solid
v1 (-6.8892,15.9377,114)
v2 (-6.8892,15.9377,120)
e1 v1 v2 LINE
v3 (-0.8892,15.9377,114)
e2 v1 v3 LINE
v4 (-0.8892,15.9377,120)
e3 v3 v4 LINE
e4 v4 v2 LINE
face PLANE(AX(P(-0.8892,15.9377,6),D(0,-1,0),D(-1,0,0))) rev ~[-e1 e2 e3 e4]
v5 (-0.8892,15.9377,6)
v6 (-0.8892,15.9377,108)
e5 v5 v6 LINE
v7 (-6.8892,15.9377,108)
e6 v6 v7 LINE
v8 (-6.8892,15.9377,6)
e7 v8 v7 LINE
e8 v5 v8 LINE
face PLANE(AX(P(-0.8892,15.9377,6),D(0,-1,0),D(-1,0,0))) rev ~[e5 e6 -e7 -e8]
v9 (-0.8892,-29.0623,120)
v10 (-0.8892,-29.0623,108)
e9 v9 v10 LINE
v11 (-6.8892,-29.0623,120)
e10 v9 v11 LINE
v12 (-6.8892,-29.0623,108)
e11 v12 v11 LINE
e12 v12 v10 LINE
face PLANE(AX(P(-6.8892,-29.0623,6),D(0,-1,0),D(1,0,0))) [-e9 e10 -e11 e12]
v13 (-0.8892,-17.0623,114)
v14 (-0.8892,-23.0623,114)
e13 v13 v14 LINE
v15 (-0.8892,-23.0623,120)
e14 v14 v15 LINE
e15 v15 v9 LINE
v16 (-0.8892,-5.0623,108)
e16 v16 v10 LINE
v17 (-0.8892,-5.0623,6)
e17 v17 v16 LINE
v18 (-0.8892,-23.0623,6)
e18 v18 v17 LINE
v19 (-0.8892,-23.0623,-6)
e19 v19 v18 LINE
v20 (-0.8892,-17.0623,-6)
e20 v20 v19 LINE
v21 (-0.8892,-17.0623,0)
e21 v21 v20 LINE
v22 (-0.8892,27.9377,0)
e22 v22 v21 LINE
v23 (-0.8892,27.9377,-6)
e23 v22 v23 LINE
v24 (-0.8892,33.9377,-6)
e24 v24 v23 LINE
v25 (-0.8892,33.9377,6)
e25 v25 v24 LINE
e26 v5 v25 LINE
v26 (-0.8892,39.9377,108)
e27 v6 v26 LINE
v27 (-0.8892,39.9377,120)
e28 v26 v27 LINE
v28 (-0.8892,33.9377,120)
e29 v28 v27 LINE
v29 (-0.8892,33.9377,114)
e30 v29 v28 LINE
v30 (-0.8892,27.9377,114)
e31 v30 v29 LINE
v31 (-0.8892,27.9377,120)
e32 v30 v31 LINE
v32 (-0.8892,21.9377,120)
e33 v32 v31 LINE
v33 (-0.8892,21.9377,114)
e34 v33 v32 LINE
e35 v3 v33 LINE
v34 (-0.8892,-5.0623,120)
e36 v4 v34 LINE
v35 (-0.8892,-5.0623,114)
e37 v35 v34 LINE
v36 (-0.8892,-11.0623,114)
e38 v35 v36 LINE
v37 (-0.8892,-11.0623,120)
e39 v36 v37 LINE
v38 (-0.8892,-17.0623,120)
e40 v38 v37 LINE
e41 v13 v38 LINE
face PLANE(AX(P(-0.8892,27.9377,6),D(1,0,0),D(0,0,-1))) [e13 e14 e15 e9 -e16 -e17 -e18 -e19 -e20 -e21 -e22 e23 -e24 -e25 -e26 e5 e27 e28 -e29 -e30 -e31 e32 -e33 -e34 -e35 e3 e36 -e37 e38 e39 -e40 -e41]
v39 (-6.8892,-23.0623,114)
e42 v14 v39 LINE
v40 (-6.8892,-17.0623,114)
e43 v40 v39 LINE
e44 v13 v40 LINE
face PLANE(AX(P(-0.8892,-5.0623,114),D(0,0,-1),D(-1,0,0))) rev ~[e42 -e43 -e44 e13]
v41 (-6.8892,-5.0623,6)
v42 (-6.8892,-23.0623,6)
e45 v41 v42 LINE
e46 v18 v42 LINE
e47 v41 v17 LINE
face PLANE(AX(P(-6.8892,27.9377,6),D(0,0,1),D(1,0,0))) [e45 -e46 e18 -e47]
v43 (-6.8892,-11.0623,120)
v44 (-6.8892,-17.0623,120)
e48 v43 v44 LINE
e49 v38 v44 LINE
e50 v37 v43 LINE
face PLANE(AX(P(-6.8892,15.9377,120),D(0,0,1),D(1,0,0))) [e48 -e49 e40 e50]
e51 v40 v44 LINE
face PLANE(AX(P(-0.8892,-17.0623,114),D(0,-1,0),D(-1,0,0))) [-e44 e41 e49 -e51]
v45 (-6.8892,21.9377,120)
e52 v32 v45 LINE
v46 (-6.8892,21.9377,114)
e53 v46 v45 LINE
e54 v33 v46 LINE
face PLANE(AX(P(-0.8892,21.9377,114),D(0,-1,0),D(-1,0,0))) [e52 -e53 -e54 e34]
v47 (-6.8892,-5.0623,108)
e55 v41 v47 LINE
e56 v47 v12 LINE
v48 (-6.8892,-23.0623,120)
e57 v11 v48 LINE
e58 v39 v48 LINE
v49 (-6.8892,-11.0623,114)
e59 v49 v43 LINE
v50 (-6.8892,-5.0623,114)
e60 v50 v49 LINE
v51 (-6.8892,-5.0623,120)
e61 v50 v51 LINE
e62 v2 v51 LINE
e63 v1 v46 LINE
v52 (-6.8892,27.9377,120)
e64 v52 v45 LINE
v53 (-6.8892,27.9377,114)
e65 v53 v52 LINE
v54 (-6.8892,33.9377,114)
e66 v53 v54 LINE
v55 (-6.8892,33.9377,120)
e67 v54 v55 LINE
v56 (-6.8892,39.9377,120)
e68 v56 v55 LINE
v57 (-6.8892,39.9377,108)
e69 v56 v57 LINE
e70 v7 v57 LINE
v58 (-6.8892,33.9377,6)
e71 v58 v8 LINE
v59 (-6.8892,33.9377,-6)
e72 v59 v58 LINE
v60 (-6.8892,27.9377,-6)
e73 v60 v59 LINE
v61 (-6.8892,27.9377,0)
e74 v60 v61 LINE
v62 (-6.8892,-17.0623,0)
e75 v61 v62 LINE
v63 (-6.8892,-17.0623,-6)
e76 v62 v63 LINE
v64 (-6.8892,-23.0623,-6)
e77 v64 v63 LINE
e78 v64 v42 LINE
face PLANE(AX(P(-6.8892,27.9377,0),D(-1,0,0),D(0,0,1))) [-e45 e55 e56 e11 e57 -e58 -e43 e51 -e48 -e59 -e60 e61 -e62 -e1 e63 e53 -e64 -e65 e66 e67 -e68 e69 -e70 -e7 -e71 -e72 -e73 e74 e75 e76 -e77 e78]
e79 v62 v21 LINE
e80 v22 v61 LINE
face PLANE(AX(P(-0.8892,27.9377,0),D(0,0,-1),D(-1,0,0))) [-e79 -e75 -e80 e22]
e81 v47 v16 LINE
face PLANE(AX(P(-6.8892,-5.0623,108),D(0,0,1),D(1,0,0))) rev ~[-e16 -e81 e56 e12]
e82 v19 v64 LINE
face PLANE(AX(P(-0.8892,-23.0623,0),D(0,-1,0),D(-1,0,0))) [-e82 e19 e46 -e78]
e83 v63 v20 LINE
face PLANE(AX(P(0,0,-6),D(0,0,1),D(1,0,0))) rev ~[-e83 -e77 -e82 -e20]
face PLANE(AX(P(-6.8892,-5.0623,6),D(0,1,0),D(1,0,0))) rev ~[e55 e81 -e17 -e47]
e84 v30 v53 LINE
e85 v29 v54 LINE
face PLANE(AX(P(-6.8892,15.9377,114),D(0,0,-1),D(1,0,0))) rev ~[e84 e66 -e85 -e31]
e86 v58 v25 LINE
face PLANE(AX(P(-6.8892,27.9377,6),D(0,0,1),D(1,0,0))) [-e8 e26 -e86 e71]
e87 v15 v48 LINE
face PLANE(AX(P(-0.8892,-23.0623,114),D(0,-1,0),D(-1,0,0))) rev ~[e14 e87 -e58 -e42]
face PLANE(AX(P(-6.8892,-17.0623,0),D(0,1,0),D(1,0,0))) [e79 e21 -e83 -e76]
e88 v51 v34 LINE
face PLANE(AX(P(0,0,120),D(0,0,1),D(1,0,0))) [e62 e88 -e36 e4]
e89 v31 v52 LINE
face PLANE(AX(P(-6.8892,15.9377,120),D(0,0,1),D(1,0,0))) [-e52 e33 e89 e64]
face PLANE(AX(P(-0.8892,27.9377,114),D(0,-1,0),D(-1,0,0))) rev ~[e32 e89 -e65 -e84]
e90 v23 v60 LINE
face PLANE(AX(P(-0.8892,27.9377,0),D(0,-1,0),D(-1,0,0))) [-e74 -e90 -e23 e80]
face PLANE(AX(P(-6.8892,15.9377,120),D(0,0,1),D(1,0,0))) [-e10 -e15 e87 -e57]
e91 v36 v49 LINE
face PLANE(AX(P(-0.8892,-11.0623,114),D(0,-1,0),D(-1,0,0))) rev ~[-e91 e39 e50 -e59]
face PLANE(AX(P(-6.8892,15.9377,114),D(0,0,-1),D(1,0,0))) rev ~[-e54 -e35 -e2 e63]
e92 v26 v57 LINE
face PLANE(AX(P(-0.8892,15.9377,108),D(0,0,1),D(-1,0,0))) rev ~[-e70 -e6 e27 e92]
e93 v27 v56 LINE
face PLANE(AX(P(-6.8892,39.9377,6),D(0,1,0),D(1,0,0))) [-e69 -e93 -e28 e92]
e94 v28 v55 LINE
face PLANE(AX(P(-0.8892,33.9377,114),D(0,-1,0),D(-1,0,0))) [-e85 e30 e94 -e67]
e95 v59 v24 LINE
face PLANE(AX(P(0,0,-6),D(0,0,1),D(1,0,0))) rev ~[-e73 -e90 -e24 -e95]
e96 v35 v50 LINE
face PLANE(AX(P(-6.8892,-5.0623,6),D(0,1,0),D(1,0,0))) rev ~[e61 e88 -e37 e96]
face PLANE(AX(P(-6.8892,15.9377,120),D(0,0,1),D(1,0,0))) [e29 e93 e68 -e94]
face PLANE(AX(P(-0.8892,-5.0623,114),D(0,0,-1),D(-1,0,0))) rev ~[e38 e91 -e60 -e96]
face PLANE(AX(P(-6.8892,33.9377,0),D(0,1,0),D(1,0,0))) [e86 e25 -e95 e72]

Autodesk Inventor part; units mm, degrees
ref_plane "YZ Plane" through (0, 0, 0) normal (1, 0, 0) x (0, 1, 0)
ref_plane "XZ Plane" through (0, 0, 0) normal (0, 1, 0) x (-1, 0, 0)
ref_plane "XY Plane" through (0, 0, 0) normal (0, 0, 1) x (1, 0, 0)
sketch "Sketch1" plane through (0, 0, 0) normal (0, 0, 1) x (1, 0, 0)
  line L0 (316.5108, 23.0377) -> (310.3108, 23.0377) projected
  line L1 (316.5108, 39.9377) -> (316.5108, 23.0377) projected
  line L2 (316.5108, 39.9377) -> (24.9108, 39.9377) projected
  line L3 (24.9108, 39.9377) -> (24.9108, 45.9377) projected
  line L4 (24.9108, 45.9377) -> (316.5108, 45.9377) projected
  line L5 (316.5108, 62.8377) -> (316.5108, 45.9377) projected
  line L6 (301.1069, 62.8377) -> (316.5108, 62.8377) projected
  line L7 (295.9108, 65.8377) -> (301.1069, 62.8377) projected
  line L8 (295.9108, 62.8377) -> (295.9108, 65.8377) projected
  arc A0 (293.9108, 62.8377) -> (295.9108, 62.8377) centre (294.9108, 62.8377) ccw projected
  line L9 (293.9108, 65.8377) -> (293.9108, 62.8377) projected
  line L10 (288.7146, 62.8377) -> (293.9108, 65.8377) projected
  line L11 (272.3069, 62.8377) -> (288.7146, 62.8377) projected
  line L12 (267.1108, 65.8377) -> (272.3069, 62.8377) projected
  line L13 (267.1108, 62.8377) -> (267.1108, 65.8377) projected
  arc A1 (265.1108, 62.8377) -> (267.1108, 62.8377) centre (266.1108, 62.8377) ccw projected
  line L14 (265.1108, 65.8377) -> (265.1108, 62.8377) projected
  line L15 (259.9146, 62.8377) -> (265.1108, 65.8377) projected
  line L16 (243.5069, 62.8377) -> (259.9146, 62.8377) projected
  line L17 (238.3108, 65.8377) -> (243.5069, 62.8377) projected
  line L18 (238.3108, 62.8377) -> (238.3108, 65.8377) projected
  arc A2 (236.3108, 62.8377) -> (238.3108, 62.8377) centre (237.3108, 62.8377) ccw projected
  line L19 (236.3108, 65.8377) -> (236.3108, 62.8377) projected
  line L20 (231.1146, 62.8377) -> (236.3108, 65.8377) projected
  line L21 (214.7069, 62.8377) -> (231.1146, 62.8377) projected
  line L22 (209.5108, 65.8377) -> (214.7069, 62.8377) projected
  line L23 (209.5108, 62.8377) -> (209.5108, 65.8377) projected
  arc A3 (207.5108, 62.8377) -> (209.5108, 62.8377) centre (208.5108, 62.8377) ccw projected
  line L24 (207.5108, 65.8377) -> (207.5108, 62.8377) projected
  line L25 (202.3146, 62.8377) -> (207.5108, 65.8377) projected
  line L26 (185.9069, 62.8377) -> (202.3146, 62.8377) projected
  line L27 (180.7108, 65.8377) -> (185.9069, 62.8377) projected
  line L28 (180.7108, 62.8377) -> (180.7108, 65.8377) projected
  arc A4 (178.7108, 62.8377) -> (180.7108, 62.8377) centre (179.7108, 62.8377) ccw projected
  line L29 (178.7108, 65.8377) -> (178.7108, 62.8377) projected
  line L30 (173.5146, 62.8377) -> (178.7108, 65.8377) projected
  line L31 (157.1069, 62.8377) -> (173.5146, 62.8377) projected
  line L32 (151.9108, 65.8377) -> (157.1069, 62.8377) projected
  line L33 (151.9108, 62.8377) -> (151.9108, 65.8377) projected
  arc A5 (149.9108, 62.8377) -> (151.9108, 62.8377) centre (150.9108, 62.8377) ccw projected
  line L34 (149.9108, 65.8377) -> (149.9108, 62.8377) projected
  line L35 (144.7146, 62.8377) -> (149.9108, 65.8377) projected
  line L36 (128.3069, 62.8377) -> (144.7146, 62.8377) projected
  line L37 (123.1108, 65.8377) -> (128.3069, 62.8377) projected
  line L38 (123.1108, 62.8377) -> (123.1108, 65.8377) projected
  arc A6 (121.1108, 62.8377) -> (123.1108, 62.8377) centre (122.1108, 62.8377) ccw projected
  line L39 (121.1108, 65.8377) -> (121.1108, 62.8377) projected
  line L40 (115.9146, 62.8377) -> (121.1108, 65.8377) projected
  line L41 (99.5069, 62.8377) -> (115.9146, 62.8377) projected
  line L42 (94.3108, 65.8377) -> (99.5069, 62.8377) projected
  line L43 (94.3108, 62.8377) -> (94.3108, 65.8377) projected
  arc A7 (92.3108, 62.8377) -> (94.3108, 62.8377) centre (93.3108, 62.8377) ccw projected
  line L44 (92.3108, 65.8377) -> (92.3108, 62.8377) projected
  line L45 (87.1146, 62.8377) -> (92.3108, 65.8377) projected
  line L46 (70.7069, 62.8377) -> (87.1146, 62.8377) projected
  line L47 (65.5108, 65.8377) -> (70.7069, 62.8377) projected
  line L48 (65.5108, 62.8377) -> (65.5108, 65.8377) projected
  arc A8 (63.5108, 62.8377) -> (65.5108, 62.8377) centre (64.5108, 62.8377) ccw projected
  line L49 (63.5108, 65.8377) -> (63.5108, 62.8377) projected
  line L50 (58.3146, 62.8377) -> (63.5108, 65.8377) projected
  line L51 (41.9069, 62.8377) -> (58.3146, 62.8377) projected
  line L52 (36.7108, 65.8377) -> (41.9069, 62.8377) projected
  line L53 (36.7108, 62.8377) -> (36.7108, 65.8377) projected
  arc A9 (34.7108, 62.8377) -> (36.7108, 62.8377) centre (35.7108, 62.8377) ccw projected
  line L54 (34.7108, 65.8377) -> (34.7108, 62.8377) projected
  line L55 (29.5146, 62.8377) -> (34.7108, 65.8377) projected
  line L56 (13.1069, 62.8377) -> (29.5146, 62.8377) projected
  line L57 (7.9108, 65.8377) -> (13.1069, 62.8377) projected
  line L58 (7.9108, 62.8377) -> (7.9108, 65.8377) projected
  arc A10 (5.9108, 62.8377) -> (7.9108, 62.8377) centre (6.9108, 62.8377) ccw projected
  line L59 (5.9108, 65.8377) -> (5.9108, 62.8377) projected
  line L60 (0.7146, 62.8377) -> (5.9108, 65.8377) projected
  line L61 (-15.6931, 62.8377) -> (0.7146, 62.8377) projected
  line L62 (-20.8892, 65.8377) -> (-15.6931, 62.8377) projected
  line L63 (-20.8892, 62.8377) -> (-20.8892, 65.8377) projected
  arc A11 (-22.8892, 62.8377) -> (-20.8892, 62.8377) centre (-21.8892, 62.8377) ccw projected
  line L64 (-22.8892, 65.8377) -> (-22.8892, 62.8377) projected
  line L65 (-28.0854, 62.8377) -> (-22.8892, 65.8377) projected
  line L66 (-44.4931, 62.8377) -> (-28.0854, 62.8377) projected
  line L67 (-49.6892, 65.8377) -> (-44.4931, 62.8377) projected
  line L68 (-49.6892, 62.8377) -> (-49.6892, 65.8377) projected
  arc A12 (-51.6892, 62.8377) -> (-49.6892, 62.8377) centre (-50.6892, 62.8377) ccw projected
  line L69 (-51.6892, 65.8377) -> (-51.6892, 62.8377) projected
  line L70 (-56.8854, 62.8377) -> (-51.6892, 65.8377) projected
  line L71 (-73.2931, 62.8377) -> (-56.8854, 62.8377) projected
  line L72 (-78.4892, 65.8377) -> (-73.2931, 62.8377) projected
  line L73 (-78.4892, 62.8377) -> (-78.4892, 65.8377) projected
  arc A13 (-80.4892, 62.8377) -> (-78.4892, 62.8377) centre (-79.4892, 62.8377) ccw projected
  line L74 (-80.4892, 65.8377) -> (-80.4892, 62.8377) projected
  line L75 (-85.6854, 62.8377) -> (-80.4892, 65.8377) projected
  line L76 (-102.0931, 62.8377) -> (-85.6854, 62.8377) projected
  line L77 (-107.2892, 65.8377) -> (-102.0931, 62.8377) projected
  line L78 (-107.2892, 62.8377) -> (-107.2892, 65.8377) projected
  arc A14 (-109.2892, 62.8377) -> (-107.2892, 62.8377) centre (-108.2892, 62.8377) ccw projected
  line L79 (-109.2892, 65.8377) -> (-109.2892, 62.8377) projected
  line L80 (-114.4854, 62.8377) -> (-109.2892, 65.8377) projected
  line L81 (-130.8931, 62.8377) -> (-114.4854, 62.8377) projected
  line L82 (-136.0892, 65.8377) -> (-130.8931, 62.8377) projected
  line L83 (-136.0892, 62.8377) -> (-136.0892, 65.8377) projected
  arc A15 (-138.0892, 62.8377) -> (-136.0892, 62.8377) centre (-137.0892, 62.8377) ccw projected
  line L84 (-138.0892, 65.8377) -> (-138.0892, 62.8377) projected
  line L85 (-143.2854, 62.8377) -> (-138.0892, 65.8377) projected
  line L86 (-159.6931, 62.8377) -> (-143.2854, 62.8377) projected
  line L87 (-164.8892, 65.8377) -> (-159.6931, 62.8377) projected
  line L88 (-164.8892, 62.8377) -> (-164.8892, 65.8377) projected
  arc A16 (-166.8892, 62.8377) -> (-164.8892, 62.8377) centre (-165.8892, 62.8377) ccw projected
  line L89 (-166.8892, 65.8377) -> (-166.8892, 62.8377) projected
  line L90 (-172.0854, 62.8377) -> (-166.8892, 65.8377) projected
  line L91 (-188.4931, 62.8377) -> (-172.0854, 62.8377) projected
  line L92 (-193.6892, 65.8377) -> (-188.4931, 62.8377) projected
  line L93 (-193.6892, 62.8377) -> (-193.6892, 65.8377) projected
  arc A17 (-195.6892, 62.8377) -> (-193.6892, 62.8377) centre (-194.6892, 62.8377) ccw projected
  line L94 (-195.6892, 65.8377) -> (-195.6892, 62.8377) projected
  line L95 (-200.8854, 62.8377) -> (-195.6892, 65.8377) projected
  line L96 (-217.2931, 62.8377) -> (-200.8854, 62.8377) projected
  line L97 (-222.4892, 65.8377) -> (-217.2931, 62.8377) projected
  line L98 (-222.4892, 62.8377) -> (-222.4892, 65.8377) projected
  arc A18 (-224.4892, 62.8377) -> (-222.4892, 62.8377) centre (-223.4892, 62.8377) ccw projected
  line L99 (-224.4892, 65.8377) -> (-224.4892, 62.8377) projected
  line L100 (-229.6854, 62.8377) -> (-224.4892, 65.8377) projected
  line L101 (-246.0931, 62.8377) -> (-229.6854, 62.8377) projected
  line L102 (-251.2892, 65.8377) -> (-246.0931, 62.8377) projected
  line L103 (-251.2892, 62.8377) -> (-251.2892, 65.8377) projected
  arc A19 (-253.2892, 62.8377) -> (-251.2892, 62.8377) centre (-252.2892, 62.8377) ccw projected
  line L104 (-253.2892, 65.8377) -> (-253.2892, 62.8377) projected
  line L105 (-258.4854, 62.8377) -> (-253.2892, 65.8377) projected
  line L106 (-258.4854, 62.8377) -> (-266.6892, 62.8377) projected
  line L107 (-266.6892, 23.0377) -> (-266.6892, 62.8377) projected
  line L108 (-244.0854, 23.0377) -> (-266.6892, 23.0377) projected
  line L109 (-238.8892, 20.0377) -> (-244.0854, 23.0377) projected
  line L110 (-238.8892, 23.0377) -> (-238.8892, 20.0377) projected
  arc A20 (-236.8892, 23.0377) -> (-238.8892, 23.0377) centre (-237.8892, 23.0377) ccw projected
  line L111 (-236.8892, 20.0377) -> (-236.8892, 23.0377) projected
  line L112 (-231.6931, 23.0377) -> (-236.8892, 20.0377) projected
  line L113 (-215.2854, 23.0377) -> (-231.6931, 23.0377) projected
  line L114 (-210.0892, 20.0377) -> (-215.2854, 23.0377) projected
  line L115 (-210.0892, 23.0377) -> (-210.0892, 20.0377) projected
  arc A21 (-208.0892, 23.0377) -> (-210.0892, 23.0377) centre (-209.0892, 23.0377) ccw projected
  line L116 (-208.0892, 20.0377) -> (-208.0892, 23.0377) projected
  line L117 (-202.8931, 23.0377) -> (-208.0892, 20.0377) projected
  line L118 (-186.4854, 23.0377) -> (-202.8931, 23.0377) projected
  line L119 (-181.2892, 20.0377) -> (-186.4854, 23.0377) projected
  line L120 (-181.2892, 23.0377) -> (-181.2892, 20.0377) projected
  arc A22 (-179.2892, 23.0377) -> (-181.2892, 23.0377) centre (-180.2892, 23.0377) ccw projected
  line L121 (-179.2892, 20.0377) -> (-179.2892, 23.0377) projected
  line L122 (-174.0931, 23.0377) -> (-179.2892, 20.0377) projected
  line L123 (-157.6854, 23.0377) -> (-174.0931, 23.0377) projected
  line L124 (-152.4892, 20.0377) -> (-157.6854, 23.0377) projected
  line L125 (-152.4892, 23.0377) -> (-152.4892, 20.0377) projected
  arc A23 (-150.4892, 23.0377) -> (-152.4892, 23.0377) centre (-151.4892, 23.0377) ccw projected
  line L126 (-150.4892, 20.0377) -> (-150.4892, 23.0377) projected
  line L127 (-145.2931, 23.0377) -> (-150.4892, 20.0377) projected
  line L128 (-128.8854, 23.0377) -> (-145.2931, 23.0377) projected
  line L129 (-123.6892, 20.0377) -> (-128.8854, 23.0377) projected
  line L130 (-123.6892, 23.0377) -> (-123.6892, 20.0377) projected
  arc A24 (-121.6892, 23.0377) -> (-123.6892, 23.0377) centre (-122.6892, 23.0377) ccw projected
  line L131 (-121.6892, 20.0377) -> (-121.6892, 23.0377) projected
  line L132 (-116.4931, 23.0377) -> (-121.6892, 20.0377) projected
  line L133 (-100.0854, 23.0377) -> (-116.4931, 23.0377) projected
  line L134 (-94.8892, 20.0377) -> (-100.0854, 23.0377) projected
  line L135 (-94.8892, 23.0377) -> (-94.8892, 20.0377) projected
  arc A25 (-92.8892, 23.0377) -> (-94.8892, 23.0377) centre (-93.8892, 23.0377) ccw projected
  line L136 (-92.8892, 20.0377) -> (-92.8892, 23.0377) projected
  line L137 (-87.6931, 23.0377) -> (-92.8892, 20.0377) projected
  line L138 (-71.2854, 23.0377) -> (-87.6931, 23.0377) projected
  line L139 (-66.0892, 20.0377) -> (-71.2854, 23.0377) projected
  line L140 (-66.0892, 23.0377) -> (-66.0892, 20.0377) projected
  arc A26 (-64.0892, 23.0377) -> (-66.0892, 23.0377) centre (-65.0892, 23.0377) ccw projected
  line L141 (-64.0892, 20.0377) -> (-64.0892, 23.0377) projected
  line L142 (-58.8931, 23.0377) -> (-64.0892, 20.0377) projected
  line L143 (-42.4854, 23.0377) -> (-58.8931, 23.0377) projected
  line L144 (-37.2892, 20.0377) -> (-42.4854, 23.0377) projected
  line L145 (-37.2892, 23.0377) -> (-37.2892, 20.0377) projected
  arc A27 (-35.2892, 23.0377) -> (-37.2892, 23.0377) centre (-36.2892, 23.0377) ccw projected
  line L146 (-35.2892, 20.0377) -> (-35.2892, 23.0377) projected
  line L147 (-30.0931, 23.0377) -> (-35.2892, 20.0377) projected
  line L148 (-13.6854, 23.0377) -> (-30.0931, 23.0377) projected
  line L149 (-8.4892, 20.0377) -> (-13.6854, 23.0377) projected
  line L150 (-8.4892, 23.0377) -> (-8.4892, 20.0377) projected
  arc A28 (-6.4892, 23.0377) -> (-8.4892, 23.0377) centre (-7.4892, 23.0377) ccw projected
  line L151 (-6.4892, 20.0377) -> (-6.4892, 23.0377) projected
  line L152 (-1.2931, 23.0377) -> (-6.4892, 20.0377) projected
  line L153 (15.1146, 23.0377) -> (-1.2931, 23.0377) projected
  line L154 (20.3108, 20.0377) -> (15.1146, 23.0377) projected
  line L155 (20.3108, 23.0377) -> (20.3108, 20.0377) projected
  arc A29 (22.3108, 23.0377) -> (20.3108, 23.0377) centre (21.3108, 23.0377) ccw projected
  line L156 (22.3108, 20.0377) -> (22.3108, 23.0377) projected
  line L157 (27.5069, 23.0377) -> (22.3108, 20.0377) projected
  line L158 (43.9146, 23.0377) -> (27.5069, 23.0377) projected
  line L159 (49.1108, 20.0377) -> (43.9146, 23.0377) projected
  line L160 (49.1108, 23.0377) -> (49.1108, 20.0377) projected
  arc A30 (51.1108, 23.0377) -> (49.1108, 23.0377) centre (50.1108, 23.0377) ccw projected
  line L161 (51.1108, 20.0377) -> (51.1108, 23.0377) projected
  line L162 (56.3069, 23.0377) -> (51.1108, 20.0377) projected
  line L163 (72.7146, 23.0377) -> (56.3069, 23.0377) projected
  line L164 (77.9108, 20.0377) -> (72.7146, 23.0377) projected
  line L165 (77.9108, 23.0377) -> (77.9108, 20.0377) projected
  arc A31 (79.9108, 23.0377) -> (77.9108, 23.0377) centre (78.9108, 23.0377) ccw projected
  line L166 (79.9108, 20.0377) -> (79.9108, 23.0377) projected
  line L167 (85.1069, 23.0377) -> (79.9108, 20.0377) projected
  line L168 (101.5146, 23.0377) -> (85.1069, 23.0377) projected
  line L169 (106.7108, 20.0377) -> (101.5146, 23.0377) projected
  line L170 (106.7108, 23.0377) -> (106.7108, 20.0377) projected
  arc A32 (108.7108, 23.0377) -> (106.7108, 23.0377) centre (107.7108, 23.0377) ccw projected
  line L171 (108.7108, 20.0377) -> (108.7108, 23.0377) projected
  line L172 (113.9069, 23.0377) -> (108.7108, 20.0377) projected
  line L173 (130.3146, 23.0377) -> (113.9069, 23.0377) projected
  line L174 (135.5108, 20.0377) -> (130.3146, 23.0377) projected
  line L175 (135.5108, 23.0377) -> (135.5108, 20.0377) projected
  arc A33 (137.5108, 23.0377) -> (135.5108, 23.0377) centre (136.5108, 23.0377) ccw projected
  line L176 (137.5108, 20.0377) -> (137.5108, 23.0377) projected
  line L177 (142.7069, 23.0377) -> (137.5108, 20.0377) projected
  line L178 (159.1146, 23.0377) -> (142.7069, 23.0377) projected
  line L179 (164.3108, 20.0377) -> (159.1146, 23.0377) projected
  line L180 (164.3108, 23.0377) -> (164.3108, 20.0377) projected
  arc A34 (166.3108, 23.0377) -> (164.3108, 23.0377) centre (165.3108, 23.0377) ccw projected
  line L181 (166.3108, 20.0377) -> (166.3108, 23.0377) projected
  line L182 (171.5069, 23.0377) -> (166.3108, 20.0377) projected
  line L183 (187.9146, 23.0377) -> (171.5069, 23.0377) projected
  line L184 (193.1108, 20.0377) -> (187.9146, 23.0377) projected
  line L185 (193.1108, 23.0377) -> (193.1108, 20.0377) projected
  arc A35 (195.1108, 23.0377) -> (193.1108, 23.0377) centre (194.1108, 23.0377) ccw projected
  line L186 (195.1108, 20.0377) -> (195.1108, 23.0377) projected
  line L187 (200.3069, 23.0377) -> (195.1108, 20.0377) projected
  line L188 (216.7146, 23.0377) -> (200.3069, 23.0377) projected
  line L189 (221.9108, 20.0377) -> (216.7146, 23.0377) projected
  line L190 (221.9108, 23.0377) -> (221.9108, 20.0377) projected
  arc A36 (223.9108, 23.0377) -> (221.9108, 23.0377) centre (222.9108, 23.0377) ccw projected
  line L191 (223.9108, 20.0377) -> (223.9108, 23.0377) projected
  line L192 (229.1069, 23.0377) -> (223.9108, 20.0377) projected
  line L193 (245.5146, 23.0377) -> (229.1069, 23.0377) projected
  line L194 (250.7108, 20.0377) -> (245.5146, 23.0377) projected
  line L195 (250.7108, 23.0377) -> (250.7108, 20.0377) projected
  arc A37 (252.7108, 23.0377) -> (250.7108, 23.0377) centre (251.7108, 23.0377) ccw projected
  line L196 (252.7108, 20.0377) -> (252.7108, 23.0377) projected
  line L197 (257.9069, 23.0377) -> (252.7108, 20.0377) projected
  line L198 (274.3146, 23.0377) -> (257.9069, 23.0377) projected
  line L199 (279.5108, 20.0377) -> (274.3146, 23.0377) projected
  line L200 (279.5108, 23.0377) -> (279.5108, 20.0377) projected
  arc A38 (281.5108, 23.0377) -> (279.5108, 23.0377) centre (280.5108, 23.0377) ccw projected
  line L201 (281.5108, 20.0377) -> (281.5108, 23.0377) projected
  line L202 (286.7069, 23.0377) -> (281.5108, 20.0377) projected
  line L203 (303.1146, 23.0377) -> (286.7069, 23.0377) projected
  line L204 (308.3108, 20.0377) -> (303.1146, 23.0377) projected
  line L205 (308.3108, 23.0377) -> (308.3108, 20.0377) projected
  arc A39 (310.3108, 23.0377) -> (308.3108, 23.0377) centre (309.3108, 23.0377) ccw projected
  line L206 (-237.2892, 33.9377) -> (-231.2892, 33.9377) projected
  line L207 (-231.2892, 33.9377) -> (-231.2892, 27.9377) projected
  line L208 (-231.2892, 27.9377) -> (-237.2892, 27.9377) projected
  line L209 (-237.2892, 27.9377) -> (-237.2892, 33.9377) projected
  line L210 (-237.2892, 51.9377) -> (-237.2892, 57.9377) projected
  line L211 (-237.2892, 57.9377) -> (-231.2892, 57.9377) projected
  line L212 (-231.2892, 57.9377) -> (-231.2892, 51.9377) projected
  line L213 (-231.2892, 51.9377) -> (-237.2892, 51.9377) projected
  line L214 (-179.6892, 33.9377) -> (-173.6892, 33.9377) projected
  line L215 (-173.6892, 33.9377) -> (-173.6892, 27.9377) projected
  line L216 (-173.6892, 27.9377) -> (-179.6892, 27.9377) projected
  line L217 (-179.6892, 27.9377) -> (-179.6892, 33.9377) projected
  line L218 (-179.6892, 51.9377) -> (-179.6892, 57.9377) projected
  line L219 (-179.6892, 57.9377) -> (-173.6892, 57.9377) projected
  line L220 (-173.6892, 57.9377) -> (-173.6892, 51.9377) projected
  line L221 (-173.6892, 51.9377) -> (-179.6892, 51.9377) projected
  line L222 (-122.0892, 33.9377) -> (-116.0892, 33.9377) projected
  line L223 (-116.0892, 33.9377) -> (-116.0892, 27.9377) projected
  line L224 (-116.0892, 27.9377) -> (-122.0892, 27.9377) projected
  line L225 (-122.0892, 27.9377) -> (-122.0892, 33.9377) projected
  line L226 (-122.0892, 51.9377) -> (-122.0892, 57.9377) projected
  line L227 (-122.0892, 57.9377) -> (-116.0892, 57.9377) projected
  line L228 (-116.0892, 57.9377) -> (-116.0892, 51.9377) projected
  line L229 (-116.0892, 51.9377) -> (-122.0892, 51.9377) projected
  line L230 (-64.4892, 33.9377) -> (-58.4892, 33.9377) projected
  line L231 (-58.4892, 33.9377) -> (-58.4892, 27.9377) projected
  line L232 (-58.4892, 27.9377) -> (-64.4892, 27.9377) projected
  line L233 (-64.4892, 27.9377) -> (-64.4892, 33.9377) projected
  line L234 (-64.4892, 51.9377) -> (-64.4892, 57.9377) projected
  line L235 (-64.4892, 57.9377) -> (-58.4892, 57.9377) projected
  line L236 (-58.4892, 57.9377) -> (-58.4892, 51.9377) projected
  line L237 (-58.4892, 51.9377) -> (-64.4892, 51.9377) projected
  line L238 (-6.8892, 33.9377) -> (-0.8892, 33.9377) projected
  line L239 (-0.8892, 33.9377) -> (-0.8892, 27.9377) projected
  line L240 (-0.8892, 27.9377) -> (-6.8892, 27.9377) projected
  line L241 (-6.8892, 27.9377) -> (-6.8892, 33.9377) projected
  line L242 (-6.8892, 51.9377) -> (-6.8892, 57.9377) projected
  line L243 (-6.8892, 57.9377) -> (-0.8892, 57.9377) projected
  line L244 (-0.8892, 57.9377) -> (-0.8892, 51.9377) projected
  line L245 (-0.8892, 51.9377) -> (-6.8892, 51.9377) projected
  line L246 (50.7108, 33.9377) -> (56.7108, 33.9377) projected
  line L247 (56.7108, 33.9377) -> (56.7108, 27.9377) projected
  line L248 (56.7108, 27.9377) -> (50.7108, 27.9377) projected
  line L249 (50.7108, 27.9377) -> (50.7108, 33.9377) projected
  line L250 (50.7108, 51.9377) -> (50.7108, 57.9377) projected
  line L251 (50.7108, 57.9377) -> (56.7108, 57.9377) projected
  line L252 (56.7108, 57.9377) -> (56.7108, 51.9377) projected
  line L253 (56.7108, 51.9377) -> (50.7108, 51.9377) projected
  line L254 (108.3108, 33.9377) -> (114.3108, 33.9377) projected
  line L255 (114.3108, 33.9377) -> (114.3108, 27.9377) projected
  line L256 (114.3108, 27.9377) -> (108.3108, 27.9377) projected
  line L257 (108.3108, 27.9377) -> (108.3108, 33.9377) projected
  line L258 (108.3108, 51.9377) -> (108.3108, 57.9377) projected
  line L259 (108.3108, 57.9377) -> (114.3108, 57.9377) projected
  line L260 (114.3108, 57.9377) -> (114.3108, 51.9377) projected
  line L261 (114.3108, 51.9377) -> (108.3108, 51.9377) projected
  line L262 (165.9108, 33.9377) -> (171.9108, 33.9377) projected
  line L263 (171.9108, 33.9377) -> (171.9108, 27.9377) projected
  line L264 (171.9108, 27.9377) -> (165.9108, 27.9377) projected
  line L265 (165.9108, 27.9377) -> (165.9108, 33.9377) projected
  line L266 (165.9108, 51.9377) -> (165.9108, 57.9377) projected
  line L267 (165.9108, 57.9377) -> (171.9108, 57.9377) projected
  line L268 (171.9108, 57.9377) -> (171.9108, 51.9377) projected
  line L269 (171.9108, 51.9377) -> (165.9108, 51.9377) projected
  line L270 (223.5108, 33.9377) -> (229.5108, 33.9377) projected
  line L271 (229.5108, 33.9377) -> (229.5108, 27.9377) projected
  line L272 (229.5108, 27.9377) -> (223.5108, 27.9377) projected
  line L273 (223.5108, 27.9377) -> (223.5108, 33.9377) projected
  line L274 (223.5108, 51.9377) -> (223.5108, 57.9377) projected
  line L275 (223.5108, 57.9377) -> (229.5108, 57.9377) projected
  line L276 (229.5108, 57.9377) -> (229.5108, 51.9377) projected
  line L277 (229.5108, 51.9377) -> (223.5108, 51.9377) projected
  line L278 (281.1108, 33.9377) -> (287.1108, 33.9377) projected
  line L279 (287.1108, 33.9377) -> (287.1108, 27.9377) projected
  line L280 (287.1108, 27.9377) -> (281.1108, 27.9377) projected
  line L281 (281.1108, 27.9377) -> (281.1108, 33.9377) projected
  line L282 (281.1108, 51.9377) -> (281.1108, 57.9377) projected
  line L283 (281.1108, 57.9377) -> (287.1108, 57.9377) projected
  line L284 (287.1108, 57.9377) -> (287.1108, 51.9377) projected
  line L285 (287.1108, 51.9377) -> (281.1108, 51.9377) projected
  line L286 (316.5108, -51.9623) -> (310.3108, -51.9623) projected
  line L287 (316.5108, -35.0623) -> (316.5108, -51.9623) projected
  line L288 (316.5108, -35.0623) -> (24.9108, -35.0623) projected
  line L289 (24.9108, -35.0623) -> (24.9108, -29.0623) projected
  line L290 (24.9108, -29.0623) -> (316.5108, -29.0623) projected
  line L291 (316.5108, -12.1623) -> (316.5108, -29.0623) projected
  line L292 (301.1069, -12.1623) -> (316.5108, -12.1623) projected
  line L293 (295.9108, -9.1623) -> (301.1069, -12.1623) projected
  line L294 (295.9108, -12.1623) -> (295.9108, -9.1623) projected
  arc A40 (293.9108, -12.1623) -> (295.9108, -12.1623) centre (294.9108, -12.1623) ccw projected
  line L295 (293.9108, -9.1623) -> (293.9108, -12.1623) projected
  line L296 (288.7146, -12.1623) -> (293.9108, -9.1623) projected
  line L297 (272.3069, -12.1623) -> (288.7146, -12.1623) projected
  line L298 (267.1108, -9.1623) -> (272.3069, -12.1623) projected
  line L299 (267.1108, -12.1623) -> (267.1108, -9.1623) projected
  arc A41 (265.1108, -12.1623) -> (267.1108, -12.1623) centre (266.1108, -12.1623) ccw projected
  line L300 (265.1108, -9.1623) -> (265.1108, -12.1623) projected
  line L301 (259.9146, -12.1623) -> (265.1108, -9.1623) projected
  line L302 (243.5069, -12.1623) -> (259.9146, -12.1623) projected
  line L303 (238.3108, -9.1623) -> (243.5069, -12.1623) projected
  line L304 (238.3108, -12.1623) -> (238.3108, -9.1623) projected
  arc A42 (236.3108, -12.1623) -> (238.3108, -12.1623) centre (237.3108, -12.1623) ccw projected
  line L305 (236.3108, -9.1623) -> (236.3108, -12.1623) projected
  line L306 (231.1146, -12.1623) -> (236.3108, -9.1623) projected
  line L307 (214.7069, -12.1623) -> (231.1146, -12.1623) projected
  line L308 (209.5108, -9.1623) -> (214.7069, -12.1623) projected
  line L309 (209.5108, -12.1623) -> (209.5108, -9.1623) projected
  arc A43 (207.5108, -12.1623) -> (209.5108, -12.1623) centre (208.5108, -12.1623) ccw projected
  line L310 (207.5108, -9.1623) -> (207.5108, -12.1623) projected
  line L311 (202.3146, -12.1623) -> (207.5108, -9.1623) projected
  line L312 (185.9069, -12.1623) -> (202.3146, -12.1623) projected
  line L313 (180.7108, -9.1623) -> (185.9069, -12.1623) projected
  line L314 (180.7108, -12.1623) -> (180.7108, -9.1623) projected
  arc A44 (178.7108, -12.1623) -> (180.7108, -12.1623) centre (179.7108, -12.1623) ccw projected
  line L315 (178.7108, -9.1623) -> (178.7108, -12.1623) projected
  line L316 (173.5146, -12.1623) -> (178.7108, -9.1623) projected
  line L317 (157.1069, -12.1623) -> (173.5146, -12.1623) projected
  line L318 (151.9108, -9.1623) -> (157.1069, -12.1623) projected
  line L319 (151.9108, -12.1623) -> (151.9108, -9.1623) projected
  arc A45 (149.9108, -12.1623) -> (151.9108, -12.1623) centre (150.9108, -12.1623) ccw projected
  line L320 (149.9108, -9.1623) -> (149.9108, -12.1623) projected
  line L321 (144.7146, -12.1623) -> (149.9108, -9.1623) projected
  line L322 (128.3069, -12.1623) -> (144.7146, -12.1623) projected
  line L323 (123.1108, -9.1623) -> (128.3069, -12.1623) projected
  line L324 (123.1108, -12.1623) -> (123.1108, -9.1623) projected
  arc A46 (121.1108, -12.1623) -> (123.1108, -12.1623) centre (122.1108, -12.1623) ccw projected
  line L325 (121.1108, -9.1623) -> (121.1108, -12.1623) projected
  line L326 (115.9146, -12.1623) -> (121.1108, -9.1623) projected
  line L327 (99.5069, -12.1623) -> (115.9146, -12.1623) projected
  line L328 (94.3108, -9.1623) -> (99.5069, -12.1623) projected
  line L329 (94.3108, -12.1623) -> (94.3108, -9.1623) projected
  arc A47 (92.3108, -12.1623) -> (94.3108, -12.1623) centre (93.3108, -12.1623) ccw projected
  line L330 (92.3108, -9.1623) -> (92.3108, -12.1623) projected
  line L331 (87.1146, -12.1623) -> (92.3108, -9.1623) projected
  line L332 (70.7069, -12.1623) -> (87.1146, -12.1623) projected
  line L333 (65.5108, -9.1623) -> (70.7069, -12.1623) projected
  line L334 (65.5108, -12.1623) -> (65.5108, -9.1623) projected
  arc A48 (63.5108, -12.1623) -> (65.5108, -12.1623) centre (64.5108, -12.1623) ccw projected
  line L335 (63.5108, -9.1623) -> (63.5108, -12.1623) projected
  line L336 (58.3146, -12.1623) -> (63.5108, -9.1623) projected
  line L337 (41.9069, -12.1623) -> (58.3146, -12.1623) projected
  line L338 (36.7108, -9.1623) -> (41.9069, -12.1623) projected
  line L339 (36.7108, -12.1623) -> (36.7108, -9.1623) projected
  arc A49 (34.7108, -12.1623) -> (36.7108, -12.1623) centre (35.7108, -12.1623) ccw projected
  line L340 (34.7108, -9.1623) -> (34.7108, -12.1623) projected
  line L341 (29.5146, -12.1623) -> (34.7108, -9.1623) projected
  line L342 (13.1069, -12.1623) -> (29.5146, -12.1623) projected
  line L343 (7.9108, -9.1623) -> (13.1069, -12.1623) projected
  line L344 (7.9108, -12.1623) -> (7.9108, -9.1623) projected
  arc A50 (5.9108, -12.1623) -> (7.9108, -12.1623) centre (6.9108, -12.1623) ccw projected
  line L345 (5.9108, -9.1623) -> (5.9108, -12.1623) projected
  line L346 (0.7146, -12.1623) -> (5.9108, -9.1623) projected
  line L347 (-15.6931, -12.1623) -> (0.7146, -12.1623) projected
  line L348 (-20.8892, -9.1623) -> (-15.6931, -12.1623) projected
  line L349 (-20.8892, -12.1623) -> (-20.8892, -9.1623) projected
  arc A51 (-22.8892, -12.1623) -> (-20.8892, -12.1623) centre (-21.8892, -12.1623) ccw projected
  line L350 (-22.8892, -9.1623) -> (-22.8892, -12.1623) projected
  line L351 (-28.0854, -12.1623) -> (-22.8892, -9.1623) projected
  line L352 (-44.4931, -12.1623) -> (-28.0854, -12.1623) projected
  line L353 (-49.6892, -9.1623) -> (-44.4931, -12.1623) projected
  line L354 (-49.6892, -12.1623) -> (-49.6892, -9.1623) projected
  arc A52 (-51.6892, -12.1623) -> (-49.6892, -12.1623) centre (-50.6892, -12.1623) ccw projected
  line L355 (-51.6892, -9.1623) -> (-51.6892, -12.1623) projected
  line L356 (-56.8854, -12.1623) -> (-51.6892, -9.1623) projected
  line L357 (-73.2931, -12.1623) -> (-56.8854, -12.1623) projected
  line L358 (-78.4892, -9.1623) -> (-73.2931, -12.1623) projected
  line L359 (-78.4892, -12.1623) -> (-78.4892, -9.1623) projected
  arc A53 (-80.4892, -12.1623) -> (-78.4892, -12.1623) centre (-79.4892, -12.1623) ccw projected
  line L360 (-80.4892, -9.1623) -> (-80.4892, -12.1623) projected
  line L361 (-85.6854, -12.1623) -> (-80.4892, -9.1623) projected
  line L362 (-102.0931, -12.1623) -> (-85.6854, -12.1623) projected
  line L363 (-107.2892, -9.1623) -> (-102.0931, -12.1623) projected
  line L364 (-107.2892, -12.1623) -> (-107.2892, -9.1623) projected
  arc A54 (-109.2892, -12.1623) -> (-107.2892, -12.1623) centre (-108.2892, -12.1623) ccw projected
  line L365 (-109.2892, -9.1623) -> (-109.2892, -12.1623) projected
  line L366 (-114.4854, -12.1623) -> (-109.2892, -9.1623) projected
  line L367 (-130.8931, -12.1623) -> (-114.4854, -12.1623) projected
  line L368 (-136.0892, -9.1623) -> (-130.8931, -12.1623) projected
  line L369 (-136.0892, -12.1623) -> (-136.0892, -9.1623) projected
  arc A55 (-138.0892, -12.1623) -> (-136.0892, -12.1623) centre (-137.0892, -12.1623) ccw projected
  line L370 (-138.0892, -9.1623) -> (-138.0892, -12.1623) projected
  line L371 (-143.2854, -12.1623) -> (-138.0892, -9.1623) projected
  line L372 (-159.6931, -12.1623) -> (-143.2854, -12.1623) projected
  line L373 (-164.8892, -9.1623) -> (-159.6931, -12.1623) projected
  line L374 (-164.8892, -12.1623) -> (-164.8892, -9.1623) projected
  arc A56 (-166.8892, -12.1623) -> (-164.8892, -12.1623) centre (-165.8892, -12.1623) ccw projected
  line L375 (-166.8892, -9.1623) -> (-166.8892, -12.1623) projected
  line L376 (-172.0854, -12.1623) -> (-166.8892, -9.1623) projected
  line L377 (-188.4931, -12.1623) -> (-172.0854, -12.1623) projected
  line L378 (-193.6892, -9.1623) -> (-188.4931, -12.1623) projected
  line L379 (-193.6892, -12.1623) -> (-193.6892, -9.1623) projected
  arc A57 (-195.6892, -12.1623) -> (-193.6892, -12.1623) centre (-194.6892, -12.1623) ccw projected
  line L380 (-195.6892, -9.1623) -> (-195.6892, -12.1623) projected
  line L381 (-200.8854, -12.1623) -> (-195.6892, -9.1623) projected
  line L382 (-217.2931, -12.1623) -> (-200.8854, -12.1623) projected
  line L383 (-222.4892, -9.1623) -> (-217.2931, -12.1623) projected
  line L384 (-222.4892, -12.1623) -> (-222.4892, -9.1623) projected
  arc A58 (-224.4892, -12.1623) -> (-222.4892, -12.1623) centre (-223.4892, -12.1623) ccw projected
  line L385 (-224.4892, -9.1623) -> (-224.4892, -12.1623) projected
  line L386 (-229.6854, -12.1623) -> (-224.4892, -9.1623) projected
  line L387 (-246.0931, -12.1623) -> (-229.6854, -12.1623) projected
  line L388 (-251.2892, -9.1623) -> (-246.0931, -12.1623) projected
  line L389 (-251.2892, -12.1623) -> (-251.2892, -9.1623) projected
  arc A59 (-253.2892, -12.1623) -> (-251.2892, -12.1623) centre (-252.2892, -12.1623) ccw projected
  line L390 (-253.2892, -9.1623) -> (-253.2892, -12.1623) projected
  line L391 (-258.4854, -12.1623) -> (-253.2892, -9.1623) projected
  line L392 (-258.4854, -12.1623) -> (-266.6892, -12.1623) projected
  line L393 (-266.6892, -51.9623) -> (-266.6892, -12.1623) projected
  line L394 (-244.0854, -51.9623) -> (-266.6892, -51.9623) projected
  line L395 (-238.8892, -54.9623) -> (-244.0854, -51.9623) projected
  line L396 (-238.8892, -51.9623) -> (-238.8892, -54.9623) projected
  arc A60 (-236.8892, -51.9623) -> (-238.8892, -51.9623) centre (-237.8892, -51.9623) ccw projected
  line L397 (-236.8892, -54.9623) -> (-236.8892, -51.9623) projected
  line L398 (-231.6931, -51.9623) -> (-236.8892, -54.9623) projected
  line L399 (-215.2854, -51.9623) -> (-231.6931, -51.9623) projected
  line L400 (-210.0892, -54.9623) -> (-215.2854, -51.9623) projected
  line L401 (-210.0892, -51.9623) -> (-210.0892, -54.9623) projected
  arc A61 (-208.0892, -51.9623) -> (-210.0892, -51.9623) centre (-209.0892, -51.9623) ccw projected
  line L402 (-208.0892, -54.9623) -> (-208.0892, -51.9623) projected
  line L403 (-202.8931, -51.9623) -> (-208.0892, -54.9623) projected
  line L404 (-186.4854, -51.9623) -> (-202.8931, -51.9623) projected
  line L405 (-181.2892, -54.9623) -> (-186.4854, -51.9623) projected
  line L406 (-181.2892, -51.9623) -> (-181.2892, -54.9623) projected
  arc A62 (-179.2892, -51.9623) -> (-181.2892, -51.9623) centre (-180.2892, -51.9623) ccw projected
  line L407 (-179.2892, -54.9623) -> (-179.2892, -51.9623) projected
  line L408 (-174.0931, -51.9623) -> (-179.2892, -54.9623) projected
  line L409 (-157.6854, -51.9623) -> (-174.0931, -51.9623) projected
  line L410 (-152.4892, -54.9623) -> (-157.6854, -51.9623) projected
  line L411 (-152.4892, -51.9623) -> (-152.4892, -54.9623) projected
  arc A63 (-150.4892, -51.9623) -> (-152.4892, -51.9623) centre (-151.4892, -51.9623) ccw projected
  line L412 (-150.4892, -54.9623) -> (-150.4892, -51.9623) projected
  line L413 (-145.2931, -51.9623) -> (-150.4892, -54.9623) projected
  line L414 (-128.8854, -51.9623) -> (-145.2931, -51.9623) projected
  line L415 (-123.6892, -54.9623) -> (-128.8854, -51.9623) projected
  line L416 (-123.6892, -51.9623) -> (-123.6892, -54.9623) projected
  arc A64 (-121.6892, -51.9623) -> (-123.6892, -51.9623) centre (-122.6892, -51.9623) ccw projected
  line L417 (-121.6892, -54.9623) -> (-121.6892, -51.9623) projected
  line L418 (-116.4931, -51.9623) -> (-121.6892, -54.9623) projected
  line L419 (-100.0854, -51.9623) -> (-116.4931, -51.9623) projected
  line L420 (-94.8892, -54.9623) -> (-100.0854, -51.9623) projected
  line L421 (-94.8892, -51.9623) -> (-94.8892, -54.9623) projected
  arc A65 (-92.8892, -51.9623) -> (-94.8892, -51.9623) centre (-93.8892, -51.9623) ccw projected
  line L422 (-92.8892, -54.9623) -> (-92.8892, -51.9623) projected
  line L423 (-87.6931, -51.9623) -> (-92.8892, -54.9623) projected
  line L424 (-71.2854, -51.9623) -> (-87.6931, -51.9623) projected
  line L425 (-66.0892, -54.9623) -> (-71.2854, -51.9623) projected
  line L426 (-66.0892, -51.9623) -> (-66.0892, -54.9623) projected
  arc A66 (-64.0892, -51.9623) -> (-66.0892, -51.9623) centre (-65.0892, -51.9623) ccw projected
  line L427 (-64.0892, -54.9623) -> (-64.0892, -51.9623) projected
  line L428 (-58.8931, -51.9623) -> (-64.0892, -54.9623) projected
  line L429 (-42.4854, -51.9623) -> (-58.8931, -51.9623) projected
  line L430 (-37.2892, -54.9623) -> (-42.4854, -51.9623) projected
  line L431 (-37.2892, -51.9623) -> (-37.2892, -54.9623) projected
  arc A67 (-35.2892, -51.9623) -> (-37.2892, -51.9623) centre (-36.2892, -51.9623) ccw projected
  line L432 (-35.2892, -54.9623) -> (-35.2892, -51.9623) projected
  line L433 (-30.0931, -51.9623) -> (-35.2892, -54.9623) projected
  line L434 (-13.6854, -51.9623) -> (-30.0931, -51.9623) projected
  line L435 (-8.4892, -54.9623) -> (-13.6854, -51.9623) projected
  line L436 (-8.4892, -51.9623) -> (-8.4892, -54.9623) projected
  arc A68 (-6.4892, -51.9623) -> (-8.4892, -51.9623) centre (-7.4892, -51.9623) ccw projected
  line L437 (-6.4892, -54.9623) -> (-6.4892, -51.9623) projected
  line L438 (-1.2931, -51.9623) -> (-6.4892, -54.9623) projected
  line L439 (15.1146, -51.9623) -> (-1.2931, -51.9623) projected
  line L440 (20.3108, -54.9623) -> (15.1146, -51.9623) projected
  line L441 (20.3108, -51.9623) -> (20.3108, -54.9623) projected
  arc A69 (22.3108, -51.9623) -> (20.3108, -51.9623) centre (21.3108, -51.9623) ccw projected
  line L442 (22.3108, -54.9623) -> (22.3108, -51.9623) projected
  line L443 (27.5069, -51.9623) -> (22.3108, -54.9623) projected
  line L444 (43.9146, -51.9623) -> (27.5069, -51.9623) projected
  line L445 (49.1108, -54.9623) -> (43.9146, -51.9623) projected
  line L446 (49.1108, -51.9623) -> (49.1108, -54.9623) projected
  arc A70 (51.1108, -51.9623) -> (49.1108, -51.9623) centre (50.1108, -51.9623) ccw projected
  line L447 (51.1108, -54.9623) -> (51.1108, -51.9623) projected
  line L448 (56.3069, -51.9623) -> (51.1108, -54.9623) projected
  line L449 (72.7146, -51.9623) -> (56.3069, -51.9623) projected
  line L450 (77.9108, -54.9623) -> (72.7146, -51.9623) projected
  line L451 (77.9108, -51.9623) -> (77.9108, -54.9623) projected
  arc A71 (79.9108, -51.9623) -> (77.9108, -51.9623) centre (78.9108, -51.9623) ccw projected
  line L452 (79.9108, -54.9623) -> (79.9108, -51.9623) projected
  line L453 (85.1069, -51.9623) -> (79.9108, -54.9623) projected
  line L454 (101.5146, -51.9623) -> (85.1069, -51.9623) projected
  line L455 (106.7108, -54.9623) -> (101.5146, -51.9623) projected
  line L456 (106.7108, -51.9623) -> (106.7108, -54.9623) projected
  arc A72 (108.7108, -51.9623) -> (106.7108, -51.9623) centre (107.7108, -51.9623) ccw projected
  line L457 (108.7108, -54.9623) -> (108.7108, -51.9623) projected
  line L458 (113.9069, -51.9623) -> (108.7108, -54.9623) projected
  line L459 (130.3146, -51.9623) -> (113.9069, -51.9623) projected
  line L460 (135.5108, -54.9623) -> (130.3146, -51.9623) projected
  line L461 (135.5108, -51.9623) -> (135.5108, -54.9623) projected
  arc A73 (137.5108, -51.9623) -> (135.5108, -51.9623) centre (136.5108, -51.9623) ccw projected
  line L462 (137.5108, -54.9623) -> (137.5108, -51.9623) projected
  line L463 (142.7069, -51.9623) -> (137.5108, -54.9623) projected
  line L464 (159.1146, -51.9623) -> (142.7069, -51.9623) projected
  line L465 (164.3108, -54.9623) -> (159.1146, -51.9623) projected
  line L466 (164.3108, -51.9623) -> (164.3108, -54.9623) projected
  arc A74 (166.3108, -51.9623) -> (164.3108, -51.9623) centre (165.3108, -51.9623) ccw projected
  line L467 (166.3108, -54.9623) -> (166.3108, -51.9623) projected
  line L468 (171.5069, -51.9623) -> (166.3108, -54.9623) projected
  line L469 (187.9146, -51.9623) -> (171.5069, -51.9623) projected
  line L470 (193.1108, -54.9623) -> (187.9146, -51.9623) projected
  line L471 (193.1108, -51.9623) -> (193.1108, -54.9623) projected
  arc A75 (195.1108, -51.9623) -> (193.1108, -51.9623) centre (194.1108, -51.9623) ccw projected
  line L472 (195.1108, -54.9623) -> (195.1108, -51.9623) projected
  line L473 (200.3069, -51.9623) -> (195.1108, -54.9623) projected
  line L474 (216.7146, -51.9623) -> (200.3069, -51.9623) projected
  line L475 (221.9108, -54.9623) -> (216.7146, -51.9623) projected
  line L476 (221.9108, -51.9623) -> (221.9108, -54.9623) projected
  arc A76 (223.9108, -51.9623) -> (221.9108, -51.9623) centre (222.9108, -51.9623) ccw projected
  line L477 (223.9108, -54.9623) -> (223.9108, -51.9623) projected
  line L478 (229.1069, -51.9623) -> (223.9108, -54.9623) projected
  line L479 (245.5146, -51.9623) -> (229.1069, -51.9623) projected
  line L480 (250.7108, -54.9623) -> (245.5146, -51.9623) projected
  line L481 (250.7108, -51.9623) -> (250.7108, -54.9623) projected
  arc A77 (252.7108, -51.9623) -> (250.7108, -51.9623) centre (251.7108, -51.9623) ccw projected
  line L482 (252.7108, -54.9623) -> (252.7108, -51.9623) projected
  line L483 (257.9069, -51.9623) -> (252.7108, -54.9623) projected
  line L484 (274.3146, -51.9623) -> (257.9069, -51.9623) projected
  line L485 (279.5108, -54.9623) -> (274.3146, -51.9623) projected
  line L486 (279.5108, -51.9623) -> (279.5108, -54.9623) projected
  arc A78 (281.5108, -51.9623) -> (279.5108, -51.9623) centre (280.5108, -51.9623) ccw projected
  line L487 (281.5108, -54.9623) -> (281.5108, -51.9623) projected
  line L488 (286.7069, -51.9623) -> (281.5108, -54.9623) projected
  line L489 (303.1146, -51.9623) -> (286.7069, -51.9623) projected
  line L490 (308.3108, -54.9623) -> (303.1146, -51.9623) projected
  line L491 (308.3108, -51.9623) -> (308.3108, -54.9623) projected
  arc A79 (310.3108, -51.9623) -> (308.3108, -51.9623) centre (309.3108, -51.9623) ccw projected
  line L492 (-237.2892, -41.0623) -> (-231.2892, -41.0623) projected
  line L493 (-231.2892, -41.0623) -> (-231.2892, -47.0623) projected
  line L494 (-231.2892, -47.0623) -> (-237.2892, -47.0623) projected
  line L495 (-237.2892, -47.0623) -> (-237.2892, -41.0623) projected
  line L496 (-237.2892, -23.0623) -> (-237.2892, -17.0623) projected
  line L497 (-237.2892, -17.0623) -> (-231.2892, -17.0623) projected
  line L498 (-231.2892, -17.0623) -> (-231.2892, -23.0623) projected
  line L499 (-231.2892, -23.0623) -> (-237.2892, -23.0623) projected
  line L500 (-179.6892, -41.0623) -> (-173.6892, -41.0623) projected
  line L501 (-173.6892, -41.0623) -> (-173.6892, -47.0623) projected
  line L502 (-173.6892, -47.0623) -> (-179.6892, -47.0623) projected
  line L503 (-179.6892, -47.0623) -> (-179.6892, -41.0623) projected
  line L504 (-179.6892, -23.0623) -> (-179.6892, -17.0623) projected
  line L505 (-179.6892, -17.0623) -> (-173.6892, -17.0623) projected
  line L506 (-173.6892, -17.0623) -> (-173.6892, -23.0623) projected
  line L507 (-173.6892, -23.0623) -> (-179.6892, -23.0623) projected
  line L508 (-122.0892, -41.0623) -> (-116.0892, -41.0623) projected
  line L509 (-116.0892, -41.0623) -> (-116.0892, -47.0623) projected
  line L510 (-116.0892, -47.0623) -> (-122.0892, -47.0623) projected
  line L511 (-122.0892, -47.0623) -> (-122.0892, -41.0623) projected
  line L512 (-122.0892, -23.0623) -> (-122.0892, -17.0623) projected
  line L513 (-122.0892, -17.0623) -> (-116.0892, -17.0623) projected
  line L514 (-116.0892, -17.0623) -> (-116.0892, -23.0623) projected
  line L515 (-116.0892, -23.0623) -> (-122.0892, -23.0623) projected
  line L516 (-64.4892, -41.0623) -> (-58.4892, -41.0623) projected
  line L517 (-58.4892, -41.0623) -> (-58.4892, -47.0623) projected
  line L518 (-58.4892, -47.0623) -> (-64.4892, -47.0623) projected
  line L519 (-64.4892, -47.0623) -> (-64.4892, -41.0623) projected
  line L520 (-64.4892, -23.0623) -> (-64.4892, -17.0623) projected
  line L521 (-64.4892, -17.0623) -> (-58.4892, -17.0623) projected
  line L522 (-58.4892, -17.0623) -> (-58.4892, -23.0623) projected
  line L523 (-58.4892, -23.0623) -> (-64.4892, -23.0623) projected
  line L524 (-6.8892, -41.0623) -> (-0.8892, -41.0623) projected
  line L525 (-0.8892, -41.0623) -> (-0.8892, -47.0623) projected
  line L526 (-0.8892, -47.0623) -> (-6.8892, -47.0623) projected
  line L527 (-6.8892, -47.0623) -> (-6.8892, -41.0623) projected
  line L528 (-6.8892, -23.0623) -> (-6.8892, -17.0623) projected
  line L529 (-6.8892, -17.0623) -> (-0.8892, -17.0623) projected
  line L530 (-0.8892, -17.0623) -> (-0.8892, -23.0623) projected
  line L531 (-0.8892, -23.0623) -> (-6.8892, -23.0623) projected
  line L532 (50.7108, -41.0623) -> (56.7108, -41.0623) projected
  line L533 (56.7108, -41.0623) -> (56.7108, -47.0623) projected
  line L534 (56.7108, -47.0623) -> (50.7108, -47.0623) projected
  line L535 (50.7108, -47.0623) -> (50.7108, -41.0623) projected
  line L536 (50.7108, -23.0623) -> (50.7108, -17.0623) projected
  line L537 (50.7108, -17.0623) -> (56.7108, -17.0623) projected
  line L538 (56.7108, -17.0623) -> (56.7108, -23.0623) projected
  line L539 (56.7108, -23.0623) -> (50.7108, -23.0623) projected
  line L540 (108.3108, -41.0623) -> (114.3108, -41.0623) projected
  line L541 (114.3108, -41.0623) -> (114.3108, -47.0623) projected
  line L542 (114.3108, -47.0623) -> (108.3108, -47.0623) projected
  line L543 (108.3108, -47.0623) -> (108.3108, -41.0623) projected
  line L544 (108.3108, -23.0623) -> (108.3108, -17.0623) projected
  line L545 (108.3108, -17.0623) -> (114.3108, -17.0623) projected
  line L546 (114.3108, -17.0623) -> (114.3108, -23.0623) projected
  line L547 (114.3108, -23.0623) -> (108.3108, -23.0623) projected
  line L548 (165.9108, -41.0623) -> (171.9108, -41.0623) projected
  line L549 (171.9108, -41.0623) -> (171.9108, -47.0623) projected
  line L550 (171.9108, -47.0623) -> (165.9108, -47.0623) projected
  line L551 (165.9108, -47.0623) -> (165.9108, -41.0623) projected
  line L552 (165.9108, -23.0623) -> (165.9108, -17.0623) projected
  line L553 (165.9108, -17.0623) -> (171.9108, -17.0623) projected
  line L554 (171.9108, -17.0623) -> (171.9108, -23.0623) projected
  line L555 (171.9108, -23.0623) -> (165.9108, -23.0623) projected
  line L556 (223.5108, -41.0623) -> (229.5108, -41.0623) projected
  line L557 (229.5108, -41.0623) -> (229.5108, -47.0623) projected
  line L558 (229.5108, -47.0623) -> (223.5108, -47.0623) projected
  line L559 (223.5108, -47.0623) -> (223.5108, -41.0623) projected
  line L560 (223.5108, -23.0623) -> (223.5108, -17.0623) projected
  line L561 (223.5108, -17.0623) -> (229.5108, -17.0623) projected
  line L562 (229.5108, -17.0623) -> (229.5108, -23.0623) projected
  line L563 (229.5108, -23.0623) -> (223.5108, -23.0623) projected
  line L564 (281.1108, -41.0623) -> (287.1108, -41.0623) projected
  line L565 (287.1108, -41.0623) -> (287.1108, -47.0623) projected
  line L566 (287.1108, -47.0623) -> (281.1108, -47.0623) projected
  line L567 (281.1108, -47.0623) -> (281.1108, -41.0623) projected
  line L568 (281.1108, -23.0623) -> (281.1108, -17.0623) projected
  line L569 (281.1108, -17.0623) -> (287.1108, -17.0623) projected
  line L570 (287.1108, -17.0623) -> (287.1108, -23.0623) projected
  line L571 (287.1108, -23.0623) -> (281.1108, -23.0623) projected
  point P0 (0, 0)
extrude "Extrusion1" add sketch "Sketch1" along normal mid plane 12 contours L238 L239 L240 L241 | L528 L529 L530 L531
sketch "Sketch2" plane through (-6.8892, 27.9377, 6) normal (0, -1, 0) x (1, 0, 0)
  line L0 (0, 0) -> (6, 0) projected
  line L1 (0, 0) -> (6, 0)
  line L2 (6, 0) -> (6, -6)
  line L3 (6, -6) -> (0, -6)
  line L4 (0, -6) -> (0, 0)
  point P0 (6.8892, -6)
  dimension "d2" = 6
  dimension "d3" = 6
extrude "Extrusion2" add sketch "Sketch2" along normal up to next
sketch "Sketch4" plane through (0, 0, 6) normal (0, 0, 1) x (1, 0, 0)
  line L0 (-6.8892, 27.9377) -> (-6.8892, -17.0623) projected
  line L1 (-0.8892, 27.9377) -> (-0.8892, -17.0623) projected
  line L2 (-6.8892, -5.0623) -> (-0.8892, -5.0623)
  line L3 (-0.8892, -5.0623) -> (-0.8892, 15.9377)
  line L4 (-0.8892, 15.9377) -> (-6.8892, 15.9377)
  line L5 (-6.8892, 15.9377) -> (-6.8892, -5.0623)
  line L6 (-6.8892, -23.0623) -> (-0.8892, -23.0623) projected
  line L7 (-0.8892, 33.9377) -> (-6.8892, 33.9377) projected
  point P0 (0, 0)
  point P1 (-3.8892, -5.0623)
  dimension "d8" = 18
  dimension "d9" = 18
extrude "Extrusion3" add sketch "Sketch4" along normal blind 114
sketch "Sketch5" plane through (-6.8892, 15.9377, 6) normal (0, 1, 0) x (1, 0, 0)
  line L0 (0, 0) -> (0, -114) projected
  line L1 (6, 0) -> (6, -114) projected
  line L2 (0, -108) -> (6, -108)
  line L3 (6, -108) -> (6, -102)
  line L4 (6, -102) -> (0, -102)
  line L5 (0, -102) -> (0, -108)
  line L6 (6, -114) -> (0, -114) projected
  point P0 (6.8892, 6)
  point P1 (0, -102)
  dimension "d12" = 6
  dimension "d13" = 6
sketch "Sketch6" plane through (-6.8892, -5.0623, 6) normal (0, -1, 0) x (1, 0, 0)
  line L0 (6, 0) -> (6, 114) projected
  line L1 (0, 0) -> (0, 114) projected
  line L2 (6, 108) -> (0, 108)
  line L3 (0, 108) -> (0, 102)
  line L4 (0, 102) -> (6, 102)
  line L5 (6, 102) -> (6, 108)
  line L6 (0, 114) -> (6, 114) projected
  point P0 (6.8892, -6)
  point P1 (0, 108)
  dimension "d14" = 6
  dimension "d15" = 6
extrude "Extrusion4" add sketch "Sketch6" along normal blind 24 contours L4 L1 L2 L0
extrude "Extrusion5" add sketch "Sketch5" along normal blind 24 contours L4 L1 L2 L0
sketch "Sketch7" plane through (-6.8892, 15.9377, 114) normal (0, 0, 1) x (1, 0, 0)
  line L0 (0, -21) -> (0, -39) projected
  line L1 (6, -39) -> (6, -21) projected
  line L2 (0, -21) -> (6, -21)
  line L3 (6, -21) -> (6, -27)
  line L4 (6, -27) -> (0, -27)
  line L5 (0, -27) -> (0, -21)
  line L6 (0, -27) -> (6, -27)
  line L7 (6, -27) -> (6, -33)
  line L8 (6, -33) -> (0, -33)
  line L9 (0, -33) -> (0, -27)
  line L10 (0, -33) -> (6, -33)
  line L11 (6, -33) -> (6, -39)
  line L12 (6, -39) -> (0, -39)
  line L13 (0, -39) -> (0, -33)
  line L14 (0, -39) -> (6, -39)
  line L15 (6, -39) -> (6, -45)
  line L16 (6, -45) -> (0, -45)
  line L17 (0, -45) -> (0, -39)
  line L18 (0, 18) -> (0, 0) projected
  line L19 (0, 0) -> (6, 0)
  line L20 (6, 0) -> (6, 6)
  line L21 (6, 6) -> (0, 6)
  line L22 (0, 6) -> (0, 0)
  line L23 (6, 12) -> (0, 12) projected
  line L24 (0, 6) -> (6, 6)
  line L25 (6, 6) -> (6, 12)
  line L26 (6, 12) -> (0, 12)
  line L27 (0, 12) -> (0, 6)
  line L28 (0, 12) -> (6, 12)
  line L29 (6, 12) -> (6, 18)
  line L30 (6, 18) -> (0, 18)
  line L31 (0, 18) -> (0, 12)
  line L32 (0, 18) -> (6, 18)
  line L33 (6, 18) -> (6, 24)
  line L34 (6, 24) -> (0, 24)
  line L35 (0, 24) -> (0, 18)
  point P0 (6.8892, -15.9377)
  point P1 (6, 6)
  point P2 (0, 6)
  dimension "d20" = 6
  dimension "d21" = 6
  dimension "d22" = 6
  dimension "d23" = 6
  dimension "d24" = 6
  dimension "d25" = 6
  dimension "d26" = 6
  dimension "d27" = 6
  dimension "d28" = 6
  dimension "d29" = 6
  dimension "d30" = 6
  dimension "d31" = 6
  dimension "d32" = 6
  dimension "d33" = 6
  dimension "d34" = 6
extrude "Extrusion6" add sketch "Sketch7" along normal blind 6 contours L4 L1 L8 L0 | L12 L15 L16 L17 | L35 L34 L33 L30 | L23 L25 L21 L18
equation "\"d9\" = d8"
properties part number "FootConnector"
